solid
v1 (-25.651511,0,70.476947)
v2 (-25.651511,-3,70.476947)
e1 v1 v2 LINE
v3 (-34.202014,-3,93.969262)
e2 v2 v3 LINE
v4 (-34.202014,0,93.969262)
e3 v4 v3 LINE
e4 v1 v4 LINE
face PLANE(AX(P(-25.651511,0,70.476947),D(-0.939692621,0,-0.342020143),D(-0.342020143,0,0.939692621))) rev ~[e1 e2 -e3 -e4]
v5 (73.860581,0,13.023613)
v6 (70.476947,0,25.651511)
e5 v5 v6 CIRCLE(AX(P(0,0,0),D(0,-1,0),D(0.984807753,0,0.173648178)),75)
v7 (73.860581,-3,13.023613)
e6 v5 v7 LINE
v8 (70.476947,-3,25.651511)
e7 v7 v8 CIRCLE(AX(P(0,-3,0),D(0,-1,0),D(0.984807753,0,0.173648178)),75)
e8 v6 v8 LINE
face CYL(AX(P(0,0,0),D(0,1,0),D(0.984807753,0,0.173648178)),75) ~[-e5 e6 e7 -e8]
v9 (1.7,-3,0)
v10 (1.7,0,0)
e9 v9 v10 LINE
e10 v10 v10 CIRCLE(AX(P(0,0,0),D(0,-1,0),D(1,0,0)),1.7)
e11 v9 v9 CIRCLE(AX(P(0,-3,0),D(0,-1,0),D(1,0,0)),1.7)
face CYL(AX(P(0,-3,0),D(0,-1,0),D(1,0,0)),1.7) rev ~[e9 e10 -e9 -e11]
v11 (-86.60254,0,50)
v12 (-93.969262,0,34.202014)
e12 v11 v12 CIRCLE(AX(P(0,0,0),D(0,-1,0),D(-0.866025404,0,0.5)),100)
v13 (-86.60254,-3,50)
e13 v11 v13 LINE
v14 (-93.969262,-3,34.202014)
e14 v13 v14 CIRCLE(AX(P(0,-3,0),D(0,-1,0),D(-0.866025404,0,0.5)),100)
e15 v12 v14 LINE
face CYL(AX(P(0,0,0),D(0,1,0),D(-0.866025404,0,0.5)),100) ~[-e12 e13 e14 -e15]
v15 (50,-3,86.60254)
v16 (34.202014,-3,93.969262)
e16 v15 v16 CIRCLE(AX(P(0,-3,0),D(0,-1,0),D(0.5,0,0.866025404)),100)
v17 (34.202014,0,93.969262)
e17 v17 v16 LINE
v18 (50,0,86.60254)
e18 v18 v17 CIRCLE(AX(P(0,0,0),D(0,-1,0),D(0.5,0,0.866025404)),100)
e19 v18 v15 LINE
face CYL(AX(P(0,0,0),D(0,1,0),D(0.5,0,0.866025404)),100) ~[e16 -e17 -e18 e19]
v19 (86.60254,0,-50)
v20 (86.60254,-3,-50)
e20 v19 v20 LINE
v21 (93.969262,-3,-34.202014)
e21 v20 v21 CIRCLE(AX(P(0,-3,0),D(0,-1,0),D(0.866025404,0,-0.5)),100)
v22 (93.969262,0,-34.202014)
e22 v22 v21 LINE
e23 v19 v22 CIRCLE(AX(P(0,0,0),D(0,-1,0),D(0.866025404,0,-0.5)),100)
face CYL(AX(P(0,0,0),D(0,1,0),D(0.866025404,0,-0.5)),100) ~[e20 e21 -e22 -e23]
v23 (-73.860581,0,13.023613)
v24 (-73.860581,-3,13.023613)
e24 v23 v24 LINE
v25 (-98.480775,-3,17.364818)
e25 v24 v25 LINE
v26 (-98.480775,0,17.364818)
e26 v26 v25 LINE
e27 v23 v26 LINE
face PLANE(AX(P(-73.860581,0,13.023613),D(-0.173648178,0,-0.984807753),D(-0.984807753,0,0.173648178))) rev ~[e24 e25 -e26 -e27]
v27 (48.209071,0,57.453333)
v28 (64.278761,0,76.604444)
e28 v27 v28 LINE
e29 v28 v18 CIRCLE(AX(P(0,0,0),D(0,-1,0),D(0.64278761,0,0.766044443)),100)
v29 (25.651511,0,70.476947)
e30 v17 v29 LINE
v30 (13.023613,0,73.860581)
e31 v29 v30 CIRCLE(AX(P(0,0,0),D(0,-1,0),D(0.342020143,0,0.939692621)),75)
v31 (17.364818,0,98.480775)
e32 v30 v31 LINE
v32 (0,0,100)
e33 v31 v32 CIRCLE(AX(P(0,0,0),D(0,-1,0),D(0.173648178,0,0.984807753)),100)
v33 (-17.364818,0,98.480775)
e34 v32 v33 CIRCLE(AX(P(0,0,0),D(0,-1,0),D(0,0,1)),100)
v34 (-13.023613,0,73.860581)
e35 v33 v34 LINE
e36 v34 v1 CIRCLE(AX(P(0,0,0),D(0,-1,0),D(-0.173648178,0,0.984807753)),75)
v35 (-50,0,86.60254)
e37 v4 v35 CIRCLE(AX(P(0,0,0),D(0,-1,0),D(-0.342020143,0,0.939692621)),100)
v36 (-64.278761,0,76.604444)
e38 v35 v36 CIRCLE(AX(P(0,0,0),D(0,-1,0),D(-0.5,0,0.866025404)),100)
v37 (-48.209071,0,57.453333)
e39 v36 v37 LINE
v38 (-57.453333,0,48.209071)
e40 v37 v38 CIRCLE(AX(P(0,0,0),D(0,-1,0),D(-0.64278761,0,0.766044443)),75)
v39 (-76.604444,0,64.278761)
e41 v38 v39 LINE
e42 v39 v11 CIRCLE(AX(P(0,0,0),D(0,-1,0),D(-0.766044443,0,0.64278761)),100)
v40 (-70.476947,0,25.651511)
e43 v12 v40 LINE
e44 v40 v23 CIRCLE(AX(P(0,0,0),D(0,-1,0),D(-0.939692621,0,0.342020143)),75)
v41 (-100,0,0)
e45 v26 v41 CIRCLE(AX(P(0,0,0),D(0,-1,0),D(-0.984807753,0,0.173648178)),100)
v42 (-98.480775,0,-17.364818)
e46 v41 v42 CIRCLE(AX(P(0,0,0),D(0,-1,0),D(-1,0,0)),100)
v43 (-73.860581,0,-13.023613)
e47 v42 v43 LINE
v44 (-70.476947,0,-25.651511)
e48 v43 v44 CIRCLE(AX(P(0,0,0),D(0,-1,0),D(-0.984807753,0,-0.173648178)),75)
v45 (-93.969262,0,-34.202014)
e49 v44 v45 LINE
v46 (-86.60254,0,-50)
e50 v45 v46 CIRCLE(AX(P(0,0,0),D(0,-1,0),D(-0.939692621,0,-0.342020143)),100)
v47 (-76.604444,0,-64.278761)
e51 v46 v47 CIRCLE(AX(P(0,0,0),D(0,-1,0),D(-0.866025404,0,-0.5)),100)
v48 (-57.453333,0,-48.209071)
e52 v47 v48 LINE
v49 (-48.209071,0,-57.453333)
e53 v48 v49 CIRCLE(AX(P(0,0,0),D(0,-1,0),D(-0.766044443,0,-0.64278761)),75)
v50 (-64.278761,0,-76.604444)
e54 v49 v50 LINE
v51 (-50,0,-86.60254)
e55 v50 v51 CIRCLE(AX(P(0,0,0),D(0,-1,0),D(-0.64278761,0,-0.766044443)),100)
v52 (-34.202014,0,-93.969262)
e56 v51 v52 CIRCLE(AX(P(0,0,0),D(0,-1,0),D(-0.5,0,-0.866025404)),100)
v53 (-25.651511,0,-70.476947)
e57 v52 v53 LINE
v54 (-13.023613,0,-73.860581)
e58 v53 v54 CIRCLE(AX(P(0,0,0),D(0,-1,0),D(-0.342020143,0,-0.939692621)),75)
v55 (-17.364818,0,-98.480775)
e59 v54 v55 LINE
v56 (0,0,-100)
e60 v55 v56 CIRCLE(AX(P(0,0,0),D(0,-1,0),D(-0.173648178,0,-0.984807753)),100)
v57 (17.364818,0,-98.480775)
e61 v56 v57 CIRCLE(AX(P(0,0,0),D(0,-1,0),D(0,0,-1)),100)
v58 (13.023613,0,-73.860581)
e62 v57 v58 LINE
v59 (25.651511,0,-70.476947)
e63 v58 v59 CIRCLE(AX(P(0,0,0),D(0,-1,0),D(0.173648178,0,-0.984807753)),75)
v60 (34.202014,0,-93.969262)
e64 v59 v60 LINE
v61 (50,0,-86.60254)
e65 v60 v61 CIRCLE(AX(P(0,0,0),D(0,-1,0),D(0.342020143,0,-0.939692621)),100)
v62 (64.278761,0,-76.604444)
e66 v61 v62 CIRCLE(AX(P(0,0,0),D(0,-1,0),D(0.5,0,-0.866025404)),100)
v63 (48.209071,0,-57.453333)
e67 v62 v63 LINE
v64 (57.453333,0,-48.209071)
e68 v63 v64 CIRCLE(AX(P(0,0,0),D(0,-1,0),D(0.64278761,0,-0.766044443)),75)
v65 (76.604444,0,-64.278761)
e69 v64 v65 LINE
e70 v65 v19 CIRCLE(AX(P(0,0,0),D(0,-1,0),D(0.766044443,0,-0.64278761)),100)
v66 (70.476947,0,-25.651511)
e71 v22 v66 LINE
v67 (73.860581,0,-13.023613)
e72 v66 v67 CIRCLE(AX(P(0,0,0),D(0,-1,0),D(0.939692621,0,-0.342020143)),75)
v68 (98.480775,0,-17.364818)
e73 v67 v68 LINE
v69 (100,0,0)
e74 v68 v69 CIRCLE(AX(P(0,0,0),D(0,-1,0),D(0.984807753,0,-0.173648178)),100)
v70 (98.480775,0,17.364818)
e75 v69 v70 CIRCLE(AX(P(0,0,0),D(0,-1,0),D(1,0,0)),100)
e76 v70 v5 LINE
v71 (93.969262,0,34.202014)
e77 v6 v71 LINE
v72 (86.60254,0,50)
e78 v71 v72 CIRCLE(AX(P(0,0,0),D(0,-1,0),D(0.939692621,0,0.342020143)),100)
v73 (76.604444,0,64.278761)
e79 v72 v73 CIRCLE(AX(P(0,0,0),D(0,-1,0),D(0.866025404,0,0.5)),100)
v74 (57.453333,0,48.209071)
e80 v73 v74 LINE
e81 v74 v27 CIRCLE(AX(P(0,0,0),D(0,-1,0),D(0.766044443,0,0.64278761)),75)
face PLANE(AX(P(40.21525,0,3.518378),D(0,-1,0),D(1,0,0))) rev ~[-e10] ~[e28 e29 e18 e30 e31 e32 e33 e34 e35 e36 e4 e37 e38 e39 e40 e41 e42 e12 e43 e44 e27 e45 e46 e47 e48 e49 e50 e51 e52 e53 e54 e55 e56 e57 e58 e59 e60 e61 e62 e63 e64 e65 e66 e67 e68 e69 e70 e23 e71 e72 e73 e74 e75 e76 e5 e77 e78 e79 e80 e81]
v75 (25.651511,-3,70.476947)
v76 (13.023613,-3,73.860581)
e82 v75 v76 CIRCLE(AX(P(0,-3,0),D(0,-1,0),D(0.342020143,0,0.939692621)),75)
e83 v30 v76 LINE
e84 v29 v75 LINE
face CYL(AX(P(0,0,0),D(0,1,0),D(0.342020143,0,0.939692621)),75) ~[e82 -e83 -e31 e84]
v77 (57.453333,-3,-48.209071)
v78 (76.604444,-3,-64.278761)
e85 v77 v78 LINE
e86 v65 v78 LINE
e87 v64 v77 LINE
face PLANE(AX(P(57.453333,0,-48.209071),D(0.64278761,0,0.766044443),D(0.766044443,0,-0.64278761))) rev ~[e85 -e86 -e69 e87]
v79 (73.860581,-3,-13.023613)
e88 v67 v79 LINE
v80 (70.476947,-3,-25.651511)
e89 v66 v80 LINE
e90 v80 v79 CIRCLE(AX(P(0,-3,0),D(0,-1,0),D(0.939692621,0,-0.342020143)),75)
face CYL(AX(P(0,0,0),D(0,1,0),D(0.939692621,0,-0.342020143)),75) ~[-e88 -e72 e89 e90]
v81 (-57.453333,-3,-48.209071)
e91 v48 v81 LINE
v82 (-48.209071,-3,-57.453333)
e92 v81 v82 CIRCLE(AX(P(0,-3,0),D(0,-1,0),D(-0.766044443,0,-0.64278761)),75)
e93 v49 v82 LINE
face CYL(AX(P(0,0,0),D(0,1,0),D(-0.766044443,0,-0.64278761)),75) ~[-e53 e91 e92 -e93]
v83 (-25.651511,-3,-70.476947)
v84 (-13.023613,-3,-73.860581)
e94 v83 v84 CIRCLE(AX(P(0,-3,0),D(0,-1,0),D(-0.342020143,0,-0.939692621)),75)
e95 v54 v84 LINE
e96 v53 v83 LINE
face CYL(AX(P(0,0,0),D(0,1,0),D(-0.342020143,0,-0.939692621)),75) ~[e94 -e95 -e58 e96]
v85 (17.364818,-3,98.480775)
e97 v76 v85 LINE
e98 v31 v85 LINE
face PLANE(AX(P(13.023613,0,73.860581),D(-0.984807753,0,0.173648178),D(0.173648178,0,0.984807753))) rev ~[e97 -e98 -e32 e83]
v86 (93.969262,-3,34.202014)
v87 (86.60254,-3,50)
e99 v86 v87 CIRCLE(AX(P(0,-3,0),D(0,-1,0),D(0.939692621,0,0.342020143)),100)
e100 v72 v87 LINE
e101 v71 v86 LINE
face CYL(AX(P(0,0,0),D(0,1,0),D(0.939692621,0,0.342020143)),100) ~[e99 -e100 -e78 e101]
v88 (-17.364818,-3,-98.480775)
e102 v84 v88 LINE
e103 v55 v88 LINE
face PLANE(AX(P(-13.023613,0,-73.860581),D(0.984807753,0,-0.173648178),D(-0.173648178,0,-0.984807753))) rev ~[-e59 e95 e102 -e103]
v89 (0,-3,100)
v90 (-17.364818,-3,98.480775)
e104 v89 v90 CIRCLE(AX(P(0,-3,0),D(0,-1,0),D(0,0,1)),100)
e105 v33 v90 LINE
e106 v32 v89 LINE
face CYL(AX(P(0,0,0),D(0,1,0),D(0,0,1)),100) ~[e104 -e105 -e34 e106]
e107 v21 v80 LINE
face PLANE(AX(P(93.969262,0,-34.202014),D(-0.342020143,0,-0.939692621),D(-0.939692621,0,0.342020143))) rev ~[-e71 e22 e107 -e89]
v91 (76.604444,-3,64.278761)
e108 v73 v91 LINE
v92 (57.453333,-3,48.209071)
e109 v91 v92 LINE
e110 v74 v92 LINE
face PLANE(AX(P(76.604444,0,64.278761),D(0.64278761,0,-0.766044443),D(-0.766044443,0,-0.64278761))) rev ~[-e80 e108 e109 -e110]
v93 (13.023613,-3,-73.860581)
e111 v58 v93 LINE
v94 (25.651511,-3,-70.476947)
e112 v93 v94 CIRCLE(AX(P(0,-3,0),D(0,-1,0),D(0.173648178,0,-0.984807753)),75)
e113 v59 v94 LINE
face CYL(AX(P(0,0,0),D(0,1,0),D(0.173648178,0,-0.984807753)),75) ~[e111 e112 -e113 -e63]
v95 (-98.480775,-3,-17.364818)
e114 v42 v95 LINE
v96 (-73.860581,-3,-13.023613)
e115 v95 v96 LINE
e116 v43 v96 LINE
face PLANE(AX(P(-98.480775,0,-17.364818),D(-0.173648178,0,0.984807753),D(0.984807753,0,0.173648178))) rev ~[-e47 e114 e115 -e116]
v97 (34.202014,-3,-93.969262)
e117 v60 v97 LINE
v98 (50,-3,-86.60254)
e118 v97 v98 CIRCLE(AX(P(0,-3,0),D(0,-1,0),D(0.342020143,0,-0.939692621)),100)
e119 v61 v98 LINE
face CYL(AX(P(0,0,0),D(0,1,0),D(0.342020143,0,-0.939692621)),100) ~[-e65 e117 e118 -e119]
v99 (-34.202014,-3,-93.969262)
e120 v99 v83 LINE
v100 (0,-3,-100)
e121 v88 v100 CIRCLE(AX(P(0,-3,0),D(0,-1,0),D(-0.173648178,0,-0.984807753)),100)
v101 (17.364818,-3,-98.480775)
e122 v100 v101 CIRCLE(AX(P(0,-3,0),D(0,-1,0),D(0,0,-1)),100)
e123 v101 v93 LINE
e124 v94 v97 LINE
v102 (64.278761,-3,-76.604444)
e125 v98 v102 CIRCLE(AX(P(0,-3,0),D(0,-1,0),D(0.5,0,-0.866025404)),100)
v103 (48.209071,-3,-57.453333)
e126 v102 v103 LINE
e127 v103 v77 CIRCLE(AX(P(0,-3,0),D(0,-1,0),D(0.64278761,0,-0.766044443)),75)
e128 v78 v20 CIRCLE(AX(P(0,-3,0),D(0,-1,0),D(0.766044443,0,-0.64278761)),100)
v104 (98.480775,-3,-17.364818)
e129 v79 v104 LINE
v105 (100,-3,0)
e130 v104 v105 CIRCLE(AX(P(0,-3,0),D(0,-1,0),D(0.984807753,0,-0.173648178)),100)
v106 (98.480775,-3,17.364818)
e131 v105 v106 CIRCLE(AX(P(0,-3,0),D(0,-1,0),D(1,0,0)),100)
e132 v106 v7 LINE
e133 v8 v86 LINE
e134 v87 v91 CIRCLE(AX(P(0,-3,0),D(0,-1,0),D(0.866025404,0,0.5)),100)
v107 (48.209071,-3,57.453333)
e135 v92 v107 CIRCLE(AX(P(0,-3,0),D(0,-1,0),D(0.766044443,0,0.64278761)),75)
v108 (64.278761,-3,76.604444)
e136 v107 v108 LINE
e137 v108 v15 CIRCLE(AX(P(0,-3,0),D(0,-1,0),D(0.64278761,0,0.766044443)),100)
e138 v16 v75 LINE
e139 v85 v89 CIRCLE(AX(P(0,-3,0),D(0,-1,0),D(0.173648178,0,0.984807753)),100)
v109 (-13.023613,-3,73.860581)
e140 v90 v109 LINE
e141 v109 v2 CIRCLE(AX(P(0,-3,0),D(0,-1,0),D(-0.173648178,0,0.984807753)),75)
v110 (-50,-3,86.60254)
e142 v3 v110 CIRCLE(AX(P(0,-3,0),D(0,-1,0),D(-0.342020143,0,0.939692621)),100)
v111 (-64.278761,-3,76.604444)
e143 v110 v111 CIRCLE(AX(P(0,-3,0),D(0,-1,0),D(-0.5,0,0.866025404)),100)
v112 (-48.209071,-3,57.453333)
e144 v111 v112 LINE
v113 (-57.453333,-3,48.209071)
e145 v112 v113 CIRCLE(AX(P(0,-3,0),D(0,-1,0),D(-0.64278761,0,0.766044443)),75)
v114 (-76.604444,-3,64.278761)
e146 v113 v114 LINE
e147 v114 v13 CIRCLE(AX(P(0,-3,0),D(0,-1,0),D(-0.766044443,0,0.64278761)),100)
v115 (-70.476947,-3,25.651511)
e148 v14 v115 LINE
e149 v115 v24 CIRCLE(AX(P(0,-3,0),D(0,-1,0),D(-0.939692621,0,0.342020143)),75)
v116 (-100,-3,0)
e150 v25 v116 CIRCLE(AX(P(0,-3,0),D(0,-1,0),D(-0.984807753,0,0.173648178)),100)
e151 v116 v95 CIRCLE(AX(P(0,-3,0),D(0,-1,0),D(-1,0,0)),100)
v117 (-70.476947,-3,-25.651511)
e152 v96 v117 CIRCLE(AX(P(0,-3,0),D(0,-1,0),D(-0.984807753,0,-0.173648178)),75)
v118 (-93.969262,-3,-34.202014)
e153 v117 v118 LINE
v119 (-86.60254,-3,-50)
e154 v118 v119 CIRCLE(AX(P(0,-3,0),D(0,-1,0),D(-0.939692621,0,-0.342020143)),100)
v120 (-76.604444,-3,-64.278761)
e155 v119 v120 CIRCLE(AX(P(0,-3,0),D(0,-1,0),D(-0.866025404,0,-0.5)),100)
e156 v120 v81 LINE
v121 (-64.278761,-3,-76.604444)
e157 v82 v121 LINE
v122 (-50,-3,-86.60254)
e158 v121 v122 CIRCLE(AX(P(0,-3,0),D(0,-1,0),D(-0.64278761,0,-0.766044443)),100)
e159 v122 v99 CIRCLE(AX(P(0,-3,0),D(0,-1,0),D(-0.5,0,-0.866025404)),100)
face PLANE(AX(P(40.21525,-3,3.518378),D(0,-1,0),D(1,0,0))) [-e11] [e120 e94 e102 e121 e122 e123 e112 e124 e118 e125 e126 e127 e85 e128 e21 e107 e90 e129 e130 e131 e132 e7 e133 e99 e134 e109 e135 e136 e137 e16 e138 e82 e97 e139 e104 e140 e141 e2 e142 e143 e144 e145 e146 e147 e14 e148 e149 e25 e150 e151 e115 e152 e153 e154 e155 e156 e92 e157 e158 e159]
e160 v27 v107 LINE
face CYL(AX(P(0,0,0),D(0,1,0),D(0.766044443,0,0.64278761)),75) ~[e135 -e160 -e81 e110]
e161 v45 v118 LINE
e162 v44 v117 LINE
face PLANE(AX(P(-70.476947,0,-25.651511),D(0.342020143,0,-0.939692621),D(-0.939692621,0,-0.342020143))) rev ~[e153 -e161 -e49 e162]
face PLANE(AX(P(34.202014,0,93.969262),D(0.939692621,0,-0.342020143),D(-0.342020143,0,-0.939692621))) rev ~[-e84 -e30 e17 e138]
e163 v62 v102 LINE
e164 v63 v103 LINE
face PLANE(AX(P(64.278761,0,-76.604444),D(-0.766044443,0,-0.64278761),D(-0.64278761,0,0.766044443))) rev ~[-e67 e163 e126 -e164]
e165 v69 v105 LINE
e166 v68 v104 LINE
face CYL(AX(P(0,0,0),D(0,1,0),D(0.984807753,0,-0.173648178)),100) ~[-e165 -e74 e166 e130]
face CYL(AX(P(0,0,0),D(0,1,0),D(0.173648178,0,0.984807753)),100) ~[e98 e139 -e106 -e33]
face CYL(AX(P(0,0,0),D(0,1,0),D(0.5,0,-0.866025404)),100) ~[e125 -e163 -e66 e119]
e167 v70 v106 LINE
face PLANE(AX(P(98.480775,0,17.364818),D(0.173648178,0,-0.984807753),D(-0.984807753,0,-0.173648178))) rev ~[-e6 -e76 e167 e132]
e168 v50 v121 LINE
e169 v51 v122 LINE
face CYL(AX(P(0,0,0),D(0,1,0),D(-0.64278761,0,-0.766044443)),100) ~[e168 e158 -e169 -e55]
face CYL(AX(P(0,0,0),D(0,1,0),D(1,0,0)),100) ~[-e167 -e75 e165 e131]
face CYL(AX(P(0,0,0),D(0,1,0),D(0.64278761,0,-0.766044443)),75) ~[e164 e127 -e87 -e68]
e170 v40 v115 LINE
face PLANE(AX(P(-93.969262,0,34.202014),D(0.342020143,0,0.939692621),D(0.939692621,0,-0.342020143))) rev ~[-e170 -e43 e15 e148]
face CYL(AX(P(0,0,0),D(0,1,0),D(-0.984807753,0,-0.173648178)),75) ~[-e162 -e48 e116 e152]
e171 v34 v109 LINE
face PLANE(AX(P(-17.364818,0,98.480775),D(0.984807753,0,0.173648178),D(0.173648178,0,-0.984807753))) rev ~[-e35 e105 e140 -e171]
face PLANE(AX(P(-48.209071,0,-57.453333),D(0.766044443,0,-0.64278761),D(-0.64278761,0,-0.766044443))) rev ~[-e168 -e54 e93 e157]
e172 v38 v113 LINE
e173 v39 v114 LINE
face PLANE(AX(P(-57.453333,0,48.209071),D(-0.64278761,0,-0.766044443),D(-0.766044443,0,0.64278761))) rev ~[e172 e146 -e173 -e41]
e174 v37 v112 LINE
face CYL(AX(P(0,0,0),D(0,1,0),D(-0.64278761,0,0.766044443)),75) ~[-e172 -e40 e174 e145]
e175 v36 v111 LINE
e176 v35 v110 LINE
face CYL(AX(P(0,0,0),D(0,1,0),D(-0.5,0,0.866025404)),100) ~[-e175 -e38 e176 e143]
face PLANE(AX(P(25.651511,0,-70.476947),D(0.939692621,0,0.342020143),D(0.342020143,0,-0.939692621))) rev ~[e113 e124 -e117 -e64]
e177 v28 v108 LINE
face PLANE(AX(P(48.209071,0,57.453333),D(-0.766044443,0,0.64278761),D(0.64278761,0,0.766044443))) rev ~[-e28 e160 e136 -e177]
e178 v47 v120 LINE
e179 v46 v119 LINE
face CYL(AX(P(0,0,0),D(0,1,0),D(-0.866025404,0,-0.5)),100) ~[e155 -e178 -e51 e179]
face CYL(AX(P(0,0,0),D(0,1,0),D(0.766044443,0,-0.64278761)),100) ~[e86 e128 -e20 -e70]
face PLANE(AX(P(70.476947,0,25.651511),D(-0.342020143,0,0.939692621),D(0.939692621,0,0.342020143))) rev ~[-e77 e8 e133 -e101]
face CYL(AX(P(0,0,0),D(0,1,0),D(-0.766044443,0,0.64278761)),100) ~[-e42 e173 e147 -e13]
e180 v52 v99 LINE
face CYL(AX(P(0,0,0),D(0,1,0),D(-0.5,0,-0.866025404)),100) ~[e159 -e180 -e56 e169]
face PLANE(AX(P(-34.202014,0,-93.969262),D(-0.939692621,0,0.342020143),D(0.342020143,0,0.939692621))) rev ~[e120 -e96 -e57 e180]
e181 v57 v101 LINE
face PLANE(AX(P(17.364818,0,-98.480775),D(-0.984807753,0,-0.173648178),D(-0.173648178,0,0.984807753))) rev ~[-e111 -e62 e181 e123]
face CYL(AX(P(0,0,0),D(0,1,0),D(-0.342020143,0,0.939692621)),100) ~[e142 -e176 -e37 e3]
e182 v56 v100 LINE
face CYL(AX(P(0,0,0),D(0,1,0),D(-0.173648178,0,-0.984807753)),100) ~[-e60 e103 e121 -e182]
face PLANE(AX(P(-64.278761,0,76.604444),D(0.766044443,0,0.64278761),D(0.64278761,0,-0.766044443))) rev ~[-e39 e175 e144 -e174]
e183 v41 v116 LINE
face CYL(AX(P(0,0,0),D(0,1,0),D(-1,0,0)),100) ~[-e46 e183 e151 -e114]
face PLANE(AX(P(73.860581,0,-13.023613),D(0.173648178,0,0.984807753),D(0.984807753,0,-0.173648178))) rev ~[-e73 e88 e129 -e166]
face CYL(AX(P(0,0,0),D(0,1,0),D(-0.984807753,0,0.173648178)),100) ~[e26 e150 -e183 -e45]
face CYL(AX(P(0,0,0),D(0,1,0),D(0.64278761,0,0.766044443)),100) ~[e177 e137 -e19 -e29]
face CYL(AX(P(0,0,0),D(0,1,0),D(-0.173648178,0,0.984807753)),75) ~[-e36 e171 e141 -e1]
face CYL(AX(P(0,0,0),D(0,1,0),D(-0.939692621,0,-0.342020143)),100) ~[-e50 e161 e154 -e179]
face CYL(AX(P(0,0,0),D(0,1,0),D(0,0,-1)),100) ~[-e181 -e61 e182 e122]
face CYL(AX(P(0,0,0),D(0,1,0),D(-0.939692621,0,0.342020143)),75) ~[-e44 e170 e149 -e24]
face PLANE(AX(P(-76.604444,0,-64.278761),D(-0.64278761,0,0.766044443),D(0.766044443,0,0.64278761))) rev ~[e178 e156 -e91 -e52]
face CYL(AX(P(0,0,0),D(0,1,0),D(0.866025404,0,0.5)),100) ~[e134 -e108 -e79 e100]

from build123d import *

# Parameters (mm, degrees)
F1_DEPTH = 3
F2_R     = 1.7
F3_DEPTH = 3.001


with BuildPart() as f1:
    # F0 (on Front) → F1 (new body)
    with BuildSketch(Plane.XZ):
        with BuildLine():
            Line((0, 0), (75, 0))
            ThreePointArc((75, 0), (74.7146023569, 6.5366807061), (73.8605814759, 13.023613325))
            Line((73.8605814759, 13.023613325), (0, 0))
        make_face()
        with BuildLine():
            Line((100, 0), (75, 0))
            ThreePointArc((75, 0), (74.7146023569, -6.5366807061), (73.8605814759, -13.023613325))
            Line((73.8605814759, -13.023613325), (98.4807753012, -17.3648177667))
            ThreePointArc((98.4807753012, -17.3648177667), (99.6194698092, -8.7155742748), (100, 0))
        make_face()
        with BuildLine():
            ThreePointArc((73.8605814759, -13.023613325), (74.7146023569, -6.5366807061), (75, 0))
            Line((75, 0), (0, 0))
            Line((0, 0), (73.8605814759, -13.023613325))
        make_face()
        with BuildLine():
            ThreePointArc((73.8605814759, 13.023613325), (74.7146023569, 6.5366807061), (75, 0))
            Line((75, 0), (100, 0))
            ThreePointArc((100, 0), (99.6194698092, 8.7155742748), (98.4807753012, 17.3648177667))
            Line((98.4807753012, 17.3648177667), (73.8605814759, 13.023613325))
        make_face()
        with BuildLine():
            Line((0, 0), (73.8605814759, 13.023613325))
            ThreePointArc((73.8605814759, 13.023613325), (72.4444369717, 19.4114283827), (70.4769465589, 25.6515107494))
            Line((70.4769465589, 25.6515107494), (0, 0))
        make_face()
        with BuildLine():
            ThreePointArc((70.4769465589, -25.6515107494), (72.4444369717, -19.4114283827), (73.8605814759, -13.023613325))
            Line((73.8605814759, -13.023613325), (0, 0))
            Line((0, 0), (70.4769465589, -25.6515107494))
        make_face()
        with BuildLine():
            Line((-13.023613325, 73.8605814759), (0, 0))
            Line((0, 0), (0, 75))
            ThreePointArc((0, 75), (-6.5366807061, 74.7146023569), (-13.023613325, 73.8605814759))
        make_face()
        with BuildLine():
            Line((13.023613325, -73.8605814759), (0, 0))
            Line((0, 0), (0, -75))
            ThreePointArc((0, -75), (6.5366807061, -74.7146023569), (13.023613325, -73.8605814759))
        make_face()
        with BuildLine():
            Line((-73.8605814759, -13.023613325), (0, 0))
            Line((0, 0), (-75, 0))
            ThreePointArc((-75, 0), (-74.7146023569, -6.5366807061), (-73.8605814759, -13.023613325))
        make_face()
        with BuildLine():
            Line((25.6515107494, 70.4769465589), (0, 0))
            Line((0, 0), (37.5, 64.9519052838))
            ThreePointArc((37.5, 64.9519052838), (31.6963696306, 67.9730840277), (25.6515107494, 70.4769465589))
        make_face()
        with BuildLine():
            Line((57.4533332339, 48.2090707265), (0, 0))
            Line((0, 0), (64.9519052838, 37.5))
            ThreePointArc((64.9519052838, 37.5), (61.4364033217, 43.0182327263), (57.4533332339, 48.2090707265))
        make_face()
        with BuildLine():
            Line((70.4769465589, -25.6515107494), (0, 0))
            Line((0, 0), (64.9519052838, -37.5))
            ThreePointArc((64.9519052838, -37.5), (67.9730840277, -31.6963696306), (70.4769465589, -25.6515107494))
        make_face()
        with BuildLine():
            Line((48.2090707265, -57.4533332339), (0, 0))
            Line((0, 0), (37.5, -64.9519052838))
            ThreePointArc((37.5, -64.9519052838), (43.0182327263, -61.4364033217), (48.2090707265, -57.4533332339))
        make_face()
        with BuildLine():
            Line((-48.2090707265, 57.4533332339), (0, 0))
            Line((0, 0), (-37.5, 64.9519052838))
            ThreePointArc((-37.5, 64.9519052838), (-43.0182327263, 61.4364033217), (-48.2090707265, 57.4533332339))
        make_face()
        with BuildLine():
            Line((-70.4769465589, 25.6515107494), (0, 0))
            Line((0, 0), (-64.9519052838, 37.5))
            ThreePointArc((-64.9519052838, 37.5), (-67.9730840277, 31.6963696306), (-70.4769465589, 25.6515107494))
        make_face()
        with BuildLine():
            Line((-57.4533332339, -48.2090707265), (0, 0))
            Line((0, 0), (-64.9519052838, -37.5))
            ThreePointArc((-64.9519052838, -37.5), (-61.4364033217, -43.0182327263), (-57.4533332339, -48.2090707265))
        make_face()
        with BuildLine():
            Line((-25.6515107494, -70.4769465589), (0, 0))
            Line((0, 0), (-37.5, -64.9519052838))
            ThreePointArc((-37.5, -64.9519052838), (-31.6963696306, -67.9730840277), (-25.6515107494, -70.4769465589))
        make_face()
        with BuildLine():
            Line((-25.6515107494, 70.4769465589), (0, 0))
            Line((0, 0), (-13.023613325, 73.8605814759))
            ThreePointArc((-13.023613325, 73.8605814759), (-19.4114283827, 72.4444369717), (-25.6515107494, 70.4769465589))
        make_face()
        with BuildLine():
            Line((0, 75), (0, 0))
            Line((0, 0), (13.023613325, 73.8605814759))
            ThreePointArc((13.023613325, 73.8605814759), (6.5366807061, 74.7146023569), (0, 75))
        make_face()
        with BuildLine():
            Line((13.023613325, 73.8605814759), (0, 0))
            Line((0, 0), (25.6515107494, 70.4769465589))
            ThreePointArc((25.6515107494, 70.4769465589), (19.4114283827, 72.4444369717), (13.023613325, 73.8605814759))
        make_face()
        with BuildLine():
            Line((37.5, 64.9519052838), (0, 0))
            Line((0, 0), (48.2090707265, 57.4533332339))
            ThreePointArc((48.2090707265, 57.4533332339), (43.0182327263, 61.4364033217), (37.5, 64.9519052838))
        make_face()
        with BuildLine():
            Line((48.2090707265, 57.4533332339), (0, 0))
            Line((0, 0), (57.4533332339, 48.2090707265))
            ThreePointArc((57.4533332339, 48.2090707265), (53.033008589, 53.033008589), (48.2090707265, 57.4533332339))
        make_face()
        with BuildLine():
            Line((64.9519052838, 37.5), (0, 0))
            Line((0, 0), (70.4769465589, 25.6515107494))
            ThreePointArc((70.4769465589, 25.6515107494), (67.9730840277, 31.6963696306), (64.9519052838, 37.5))
        make_face()
        with BuildLine():
            Line((64.9519052838, -37.5), (0, 0))
            Line((0, 0), (57.4533332339, -48.2090707265))
            ThreePointArc((57.4533332339, -48.2090707265), (61.4364033217, -43.0182327263), (64.9519052838, -37.5))
        make_face()
        with BuildLine():
            Line((57.4533332339, -48.2090707265), (0, 0))
            Line((0, 0), (48.2090707265, -57.4533332339))
            ThreePointArc((48.2090707265, -57.4533332339), (53.033008589, -53.033008589), (57.4533332339, -48.2090707265))
        make_face()
        with BuildLine():
            Line((37.5, -64.9519052838), (0, 0))
            Line((0, 0), (25.6515107494, -70.4769465589))
            ThreePointArc((25.6515107494, -70.4769465589), (31.6963696306, -67.9730840277), (37.5, -64.9519052838))
        make_face()
        with BuildLine():
            Line((25.6515107494, -70.4769465589), (0, 0))
            Line((0, 0), (13.023613325, -73.8605814759))
            ThreePointArc((13.023613325, -73.8605814759), (19.4114283827, -72.4444369717), (25.6515107494, -70.4769465589))
        make_face()
        with BuildLine():
            Line((0, -75), (0, 0))
            Line((0, 0), (-13.023613325, -73.8605814759))
            ThreePointArc((-13.023613325, -73.8605814759), (-6.5366807061, -74.7146023569), (0, -75))
        make_face()
        with BuildLine():
            Line((-13.023613325, -73.8605814759), (0, 0))
            Line((0, 0), (-25.6515107494, -70.4769465589))
            ThreePointArc((-25.6515107494, -70.4769465589), (-19.4114283827, -72.4444369717), (-13.023613325, -73.8605814759))
        make_face()
        with BuildLine():
            Line((-37.5, -64.9519052838), (0, 0))
            Line((0, 0), (-48.2090707265, -57.4533332339))
            ThreePointArc((-48.2090707265, -57.4533332339), (-43.0182327263, -61.4364033217), (-37.5, -64.9519052838))
        make_face()
        with BuildLine():
            Line((-48.2090707265, -57.4533332339), (0, 0))
            Line((0, 0), (-57.4533332339, -48.2090707265))
            ThreePointArc((-57.4533332339, -48.2090707265), (-53.033008589, -53.033008589), (-48.2090707265, -57.4533332339))
        make_face()
        with BuildLine():
            Line((-64.9519052838, -37.5), (0, 0))
            Line((0, 0), (-70.4769465589, -25.6515107494))
            ThreePointArc((-70.4769465589, -25.6515107494), (-67.9730840277, -31.6963696306), (-64.9519052838, -37.5))
        make_face()
        with BuildLine():
            Line((-70.4769465589, -25.6515107494), (0, 0))
            Line((0, 0), (-73.8605814759, -13.023613325))
            ThreePointArc((-73.8605814759, -13.023613325), (-72.4444369717, -19.4114283827), (-70.4769465589, -25.6515107494))
        make_face()
        with BuildLine():
            Line((-73.8605814759, 13.023613325), (0, 0))
            Line((0, 0), (-70.4769465589, 25.6515107494))
            ThreePointArc((-70.4769465589, 25.6515107494), (-72.4444369717, 19.4114283827), (-73.8605814759, 13.023613325))
        make_face()
        with BuildLine():
            Line((-64.9519052838, 37.5), (0, 0))
            Line((0, 0), (-57.4533332339, 48.2090707265))
            ThreePointArc((-57.4533332339, 48.2090707265), (-61.4364033217, 43.0182327263), (-64.9519052838, 37.5))
        make_face()
        with BuildLine():
            Line((-57.4533332339, 48.2090707265), (0, 0))
            Line((0, 0), (-48.2090707265, 57.4533332339))
            ThreePointArc((-48.2090707265, 57.4533332339), (-53.033008589, 53.033008589), (-57.4533332339, 48.2090707265))
        make_face()
        with BuildLine():
            Line((-37.5, 64.9519052838), (0, 0))
            Line((0, 0), (-25.6515107494, 70.4769465589))
            ThreePointArc((-25.6515107494, 70.4769465589), (-31.6963696306, 67.9730840277), (-37.5, 64.9519052838))
        make_face()
        with BuildLine():
            Line((-75, 0), (0, 0))
            Line((0, 0), (-73.8605814759, 13.023613325))
            ThreePointArc((-73.8605814759, 13.023613325), (-74.7146023569, 6.5366807061), (-75, 0))
        make_face()
        with BuildLine():
            ThreePointArc((64.9519052838, 37.5), (67.9730840277, 31.6963696306), (70.4769465589, 25.6515107494))
            Line((70.4769465589, 25.6515107494), (93.9692620786, 34.2020143326))
            ThreePointArc((93.9692620786, 34.2020143326), (90.6307787037, 42.2618261741), (86.6025403784, 50))
            Line((86.6025403784, 50), (64.9519052838, 37.5))
        make_face()
        with BuildLine():
            Line((93.9692620786, -34.2020143326), (70.4769465589, -25.6515107494))
            ThreePointArc((70.4769465589, -25.6515107494), (67.9730840277, -31.6963696306), (64.9519052838, -37.5))
            Line((64.9519052838, -37.5), (86.6025403784, -50))
            ThreePointArc((86.6025403784, -50), (90.6307787037, -42.2618261741), (93.9692620786, -34.2020143326))
        make_face()
        with BuildLine():
            Line((0, 100), (0, 75))
            ThreePointArc((0, 75), (6.5366807061, 74.7146023569), (13.023613325, 73.8605814759))
            Line((13.023613325, 73.8605814759), (17.3648177667, 98.4807753012))
            ThreePointArc((17.3648177667, 98.4807753012), (8.7155742748, 99.6194698092), (0, 100))
        make_face()
        with BuildLine():
            ThreePointArc((-13.023613325, 73.8605814759), (-6.5366807061, 74.7146023569), (0, 75))
            Line((0, 75), (0, 100))
            ThreePointArc((0, 100), (-8.7155742748, 99.6194698092), (-17.3648177667, 98.4807753012))
            Line((-17.3648177667, 98.4807753012), (-13.023613325, 73.8605814759))
        make_face()
        with BuildLine():
            Line((0, -100), (0, -75))
            ThreePointArc((0, -75), (-6.5366807061, -74.7146023569), (-13.023613325, -73.8605814759))
            Line((-13.023613325, -73.8605814759), (-17.3648177667, -98.4807753012))
            ThreePointArc((-17.3648177667, -98.4807753012), (-8.7155742748, -99.6194698092), (0, -100))
        make_face()
        with BuildLine():
            ThreePointArc((13.023613325, -73.8605814759), (6.5366807061, -74.7146023569), (0, -75))
            Line((0, -75), (0, -100))
            ThreePointArc((0, -100), (8.7155742748, -99.6194698092), (17.3648177667, -98.4807753012))
            Line((17.3648177667, -98.4807753012), (13.023613325, -73.8605814759))
        make_face()
        with BuildLine():
            Line((-100, 0), (-75, 0))
            ThreePointArc((-75, 0), (-74.7146023569, 6.5366807061), (-73.8605814759, 13.023613325))
            Line((-73.8605814759, 13.023613325), (-98.4807753012, 17.3648177667))
            ThreePointArc((-98.4807753012, 17.3648177667), (-99.6194698092, 8.7155742748), (-100, 0))
        make_face()
        with BuildLine():
            ThreePointArc((-73.8605814759, -13.023613325), (-74.7146023569, -6.5366807061), (-75, 0))
            Line((-75, 0), (-100, 0))
            ThreePointArc((-100, 0), (-99.6194698092, -8.7155742748), (-98.4807753012, -17.3648177667))
            Line((-98.4807753012, -17.3648177667), (-73.8605814759, -13.023613325))
        make_face()
        with BuildLine():
            Line((50, 86.6025403784), (37.5, 64.9519052838))
            ThreePointArc((37.5, 64.9519052838), (43.0182327263, 61.4364033217), (48.2090707265, 57.4533332339))
            Line((48.2090707265, 57.4533332339), (64.2787609687, 76.6044443119))
            ThreePointArc((64.2787609687, 76.6044443119), (57.3576436351, 81.9152044289), (50, 86.6025403784))
        make_face()
        with BuildLine():
            ThreePointArc((25.6515107494, 70.4769465589), (31.6963696306, 67.9730840277), (37.5, 64.9519052838))
            Line((37.5, 64.9519052838), (50, 86.6025403784))
            ThreePointArc((50, 86.6025403784), (42.2618261741, 90.6307787037), (34.2020143326, 93.9692620786))
            Line((34.2020143326, 93.9692620786), (25.6515107494, 70.4769465589))
        make_face()
        with BuildLine():
            ThreePointArc((57.4533332339, 48.2090707265), (61.4364033217, 43.0182327263), (64.9519052838, 37.5))
            Line((64.9519052838, 37.5), (86.6025403784, 50))
            ThreePointArc((86.6025403784, 50), (81.9152044289, 57.3576436351), (76.6044443119, 64.2787609687))
            Line((76.6044443119, 64.2787609687), (57.4533332339, 48.2090707265))
        make_face()
        with BuildLine():
            Line((86.6025403784, -50), (64.9519052838, -37.5))
            ThreePointArc((64.9519052838, -37.5), (61.4364033217, -43.0182327263), (57.4533332339, -48.2090707265))
            Line((57.4533332339, -48.2090707265), (76.6044443119, -64.2787609687))
            ThreePointArc((76.6044443119, -64.2787609687), (81.9152044289, -57.3576436351), (86.6025403784, -50))
        make_face()
        with BuildLine():
            Line((50, -86.6025403784), (37.5, -64.9519052838))
            ThreePointArc((37.5, -64.9519052838), (31.6963696306, -67.9730840277), (25.6515107494, -70.4769465589))
            Line((25.6515107494, -70.4769465589), (34.2020143326, -93.9692620786))
            ThreePointArc((34.2020143326, -93.9692620786), (42.2618261741, -90.6307787037), (50, -86.6025403784))
        make_face()
        with BuildLine():
            ThreePointArc((48.2090707265, -57.4533332339), (43.0182327263, -61.4364033217), (37.5, -64.9519052838))
            Line((37.5, -64.9519052838), (50, -86.6025403784))
            ThreePointArc((50, -86.6025403784), (57.3576436351, -81.9152044289), (64.2787609687, -76.6044443119))
            Line((64.2787609687, -76.6044443119), (48.2090707265, -57.4533332339))
        make_face()
        with BuildLine():
            Line((-50, 86.6025403784), (-37.5, 64.9519052838))
            ThreePointArc((-37.5, 64.9519052838), (-31.6963696306, 67.9730840277), (-25.6515107494, 70.4769465589))
            Line((-25.6515107494, 70.4769465589), (-34.2020143326, 93.9692620786))
            ThreePointArc((-34.2020143326, 93.9692620786), (-42.2618261741, 90.6307787037), (-50, 86.6025403784))
        make_face()
        with BuildLine():
            ThreePointArc((-48.2090707265, 57.4533332339), (-43.0182327263, 61.4364033217), (-37.5, 64.9519052838))
            Line((-37.5, 64.9519052838), (-50, 86.6025403784))
            ThreePointArc((-50, 86.6025403784), (-57.3576436351, 81.9152044289), (-64.2787609687, 76.6044443119))
            Line((-64.2787609687, 76.6044443119), (-48.2090707265, 57.4533332339))
        make_face()
        with BuildLine():
            Line((-86.6025403784, 50), (-64.9519052838, 37.5))
            ThreePointArc((-64.9519052838, 37.5), (-61.4364033217, 43.0182327263), (-57.4533332339, 48.2090707265))
            Line((-57.4533332339, 48.2090707265), (-76.6044443119, 64.2787609687))
            ThreePointArc((-76.6044443119, 64.2787609687), (-81.9152044289, 57.3576436351), (-86.6025403784, 50))
        make_face()
        with BuildLine():
            ThreePointArc((-70.4769465589, 25.6515107494), (-67.9730840277, 31.6963696306), (-64.9519052838, 37.5))
            Line((-64.9519052838, 37.5), (-86.6025403784, 50))
            ThreePointArc((-86.6025403784, 50), (-90.6307787037, 42.2618261741), (-93.9692620786, 34.2020143326))
            Line((-93.9692620786, 34.2020143326), (-70.4769465589, 25.6515107494))
        make_face()
        with BuildLine():
            Line((-86.6025403784, -50), (-64.9519052838, -37.5))
            ThreePointArc((-64.9519052838, -37.5), (-67.9730840277, -31.6963696306), (-70.4769465589, -25.6515107494))
            Line((-70.4769465589, -25.6515107494), (-93.9692620786, -34.2020143326))
            ThreePointArc((-93.9692620786, -34.2020143326), (-90.6307787037, -42.2618261741), (-86.6025403784, -50))
        make_face()
        with BuildLine():
            ThreePointArc((-57.4533332339, -48.2090707265), (-61.4364033217, -43.0182327263), (-64.9519052838, -37.5))
            Line((-64.9519052838, -37.5), (-86.6025403784, -50))
            ThreePointArc((-86.6025403784, -50), (-81.9152044289, -57.3576436351), (-76.6044443119, -64.2787609687))
            Line((-76.6044443119, -64.2787609687), (-57.4533332339, -48.2090707265))
        make_face()
        with BuildLine():
            Line((-50, -86.6025403784), (-37.5, -64.9519052838))
            ThreePointArc((-37.5, -64.9519052838), (-43.0182327263, -61.4364033217), (-48.2090707265, -57.4533332339))
            Line((-48.2090707265, -57.4533332339), (-64.2787609687, -76.6044443119))
            ThreePointArc((-64.2787609687, -76.6044443119), (-57.3576436351, -81.9152044289), (-50, -86.6025403784))
        make_face()
        with BuildLine():
            ThreePointArc((-25.6515107494, -70.4769465589), (-31.6963696306, -67.9730840277), (-37.5, -64.9519052838))
            Line((-37.5, -64.9519052838), (-50, -86.6025403784))
            ThreePointArc((-50, -86.6025403784), (-42.2618261741, -90.6307787037), (-34.2020143326, -93.9692620786))
            Line((-34.2020143326, -93.9692620786), (-25.6515107494, -70.4769465589))
        make_face()
    extrude(amount=F1_DEPTH)

    # F2 (on face) → F3 (cut, through all)
    with BuildSketch(Plane.XZ.offset(3)):
        Circle(F2_R)
    extrude(amount=-F3_DEPTH, mode=Mode.SUBTRACT)


solid = f1.part
